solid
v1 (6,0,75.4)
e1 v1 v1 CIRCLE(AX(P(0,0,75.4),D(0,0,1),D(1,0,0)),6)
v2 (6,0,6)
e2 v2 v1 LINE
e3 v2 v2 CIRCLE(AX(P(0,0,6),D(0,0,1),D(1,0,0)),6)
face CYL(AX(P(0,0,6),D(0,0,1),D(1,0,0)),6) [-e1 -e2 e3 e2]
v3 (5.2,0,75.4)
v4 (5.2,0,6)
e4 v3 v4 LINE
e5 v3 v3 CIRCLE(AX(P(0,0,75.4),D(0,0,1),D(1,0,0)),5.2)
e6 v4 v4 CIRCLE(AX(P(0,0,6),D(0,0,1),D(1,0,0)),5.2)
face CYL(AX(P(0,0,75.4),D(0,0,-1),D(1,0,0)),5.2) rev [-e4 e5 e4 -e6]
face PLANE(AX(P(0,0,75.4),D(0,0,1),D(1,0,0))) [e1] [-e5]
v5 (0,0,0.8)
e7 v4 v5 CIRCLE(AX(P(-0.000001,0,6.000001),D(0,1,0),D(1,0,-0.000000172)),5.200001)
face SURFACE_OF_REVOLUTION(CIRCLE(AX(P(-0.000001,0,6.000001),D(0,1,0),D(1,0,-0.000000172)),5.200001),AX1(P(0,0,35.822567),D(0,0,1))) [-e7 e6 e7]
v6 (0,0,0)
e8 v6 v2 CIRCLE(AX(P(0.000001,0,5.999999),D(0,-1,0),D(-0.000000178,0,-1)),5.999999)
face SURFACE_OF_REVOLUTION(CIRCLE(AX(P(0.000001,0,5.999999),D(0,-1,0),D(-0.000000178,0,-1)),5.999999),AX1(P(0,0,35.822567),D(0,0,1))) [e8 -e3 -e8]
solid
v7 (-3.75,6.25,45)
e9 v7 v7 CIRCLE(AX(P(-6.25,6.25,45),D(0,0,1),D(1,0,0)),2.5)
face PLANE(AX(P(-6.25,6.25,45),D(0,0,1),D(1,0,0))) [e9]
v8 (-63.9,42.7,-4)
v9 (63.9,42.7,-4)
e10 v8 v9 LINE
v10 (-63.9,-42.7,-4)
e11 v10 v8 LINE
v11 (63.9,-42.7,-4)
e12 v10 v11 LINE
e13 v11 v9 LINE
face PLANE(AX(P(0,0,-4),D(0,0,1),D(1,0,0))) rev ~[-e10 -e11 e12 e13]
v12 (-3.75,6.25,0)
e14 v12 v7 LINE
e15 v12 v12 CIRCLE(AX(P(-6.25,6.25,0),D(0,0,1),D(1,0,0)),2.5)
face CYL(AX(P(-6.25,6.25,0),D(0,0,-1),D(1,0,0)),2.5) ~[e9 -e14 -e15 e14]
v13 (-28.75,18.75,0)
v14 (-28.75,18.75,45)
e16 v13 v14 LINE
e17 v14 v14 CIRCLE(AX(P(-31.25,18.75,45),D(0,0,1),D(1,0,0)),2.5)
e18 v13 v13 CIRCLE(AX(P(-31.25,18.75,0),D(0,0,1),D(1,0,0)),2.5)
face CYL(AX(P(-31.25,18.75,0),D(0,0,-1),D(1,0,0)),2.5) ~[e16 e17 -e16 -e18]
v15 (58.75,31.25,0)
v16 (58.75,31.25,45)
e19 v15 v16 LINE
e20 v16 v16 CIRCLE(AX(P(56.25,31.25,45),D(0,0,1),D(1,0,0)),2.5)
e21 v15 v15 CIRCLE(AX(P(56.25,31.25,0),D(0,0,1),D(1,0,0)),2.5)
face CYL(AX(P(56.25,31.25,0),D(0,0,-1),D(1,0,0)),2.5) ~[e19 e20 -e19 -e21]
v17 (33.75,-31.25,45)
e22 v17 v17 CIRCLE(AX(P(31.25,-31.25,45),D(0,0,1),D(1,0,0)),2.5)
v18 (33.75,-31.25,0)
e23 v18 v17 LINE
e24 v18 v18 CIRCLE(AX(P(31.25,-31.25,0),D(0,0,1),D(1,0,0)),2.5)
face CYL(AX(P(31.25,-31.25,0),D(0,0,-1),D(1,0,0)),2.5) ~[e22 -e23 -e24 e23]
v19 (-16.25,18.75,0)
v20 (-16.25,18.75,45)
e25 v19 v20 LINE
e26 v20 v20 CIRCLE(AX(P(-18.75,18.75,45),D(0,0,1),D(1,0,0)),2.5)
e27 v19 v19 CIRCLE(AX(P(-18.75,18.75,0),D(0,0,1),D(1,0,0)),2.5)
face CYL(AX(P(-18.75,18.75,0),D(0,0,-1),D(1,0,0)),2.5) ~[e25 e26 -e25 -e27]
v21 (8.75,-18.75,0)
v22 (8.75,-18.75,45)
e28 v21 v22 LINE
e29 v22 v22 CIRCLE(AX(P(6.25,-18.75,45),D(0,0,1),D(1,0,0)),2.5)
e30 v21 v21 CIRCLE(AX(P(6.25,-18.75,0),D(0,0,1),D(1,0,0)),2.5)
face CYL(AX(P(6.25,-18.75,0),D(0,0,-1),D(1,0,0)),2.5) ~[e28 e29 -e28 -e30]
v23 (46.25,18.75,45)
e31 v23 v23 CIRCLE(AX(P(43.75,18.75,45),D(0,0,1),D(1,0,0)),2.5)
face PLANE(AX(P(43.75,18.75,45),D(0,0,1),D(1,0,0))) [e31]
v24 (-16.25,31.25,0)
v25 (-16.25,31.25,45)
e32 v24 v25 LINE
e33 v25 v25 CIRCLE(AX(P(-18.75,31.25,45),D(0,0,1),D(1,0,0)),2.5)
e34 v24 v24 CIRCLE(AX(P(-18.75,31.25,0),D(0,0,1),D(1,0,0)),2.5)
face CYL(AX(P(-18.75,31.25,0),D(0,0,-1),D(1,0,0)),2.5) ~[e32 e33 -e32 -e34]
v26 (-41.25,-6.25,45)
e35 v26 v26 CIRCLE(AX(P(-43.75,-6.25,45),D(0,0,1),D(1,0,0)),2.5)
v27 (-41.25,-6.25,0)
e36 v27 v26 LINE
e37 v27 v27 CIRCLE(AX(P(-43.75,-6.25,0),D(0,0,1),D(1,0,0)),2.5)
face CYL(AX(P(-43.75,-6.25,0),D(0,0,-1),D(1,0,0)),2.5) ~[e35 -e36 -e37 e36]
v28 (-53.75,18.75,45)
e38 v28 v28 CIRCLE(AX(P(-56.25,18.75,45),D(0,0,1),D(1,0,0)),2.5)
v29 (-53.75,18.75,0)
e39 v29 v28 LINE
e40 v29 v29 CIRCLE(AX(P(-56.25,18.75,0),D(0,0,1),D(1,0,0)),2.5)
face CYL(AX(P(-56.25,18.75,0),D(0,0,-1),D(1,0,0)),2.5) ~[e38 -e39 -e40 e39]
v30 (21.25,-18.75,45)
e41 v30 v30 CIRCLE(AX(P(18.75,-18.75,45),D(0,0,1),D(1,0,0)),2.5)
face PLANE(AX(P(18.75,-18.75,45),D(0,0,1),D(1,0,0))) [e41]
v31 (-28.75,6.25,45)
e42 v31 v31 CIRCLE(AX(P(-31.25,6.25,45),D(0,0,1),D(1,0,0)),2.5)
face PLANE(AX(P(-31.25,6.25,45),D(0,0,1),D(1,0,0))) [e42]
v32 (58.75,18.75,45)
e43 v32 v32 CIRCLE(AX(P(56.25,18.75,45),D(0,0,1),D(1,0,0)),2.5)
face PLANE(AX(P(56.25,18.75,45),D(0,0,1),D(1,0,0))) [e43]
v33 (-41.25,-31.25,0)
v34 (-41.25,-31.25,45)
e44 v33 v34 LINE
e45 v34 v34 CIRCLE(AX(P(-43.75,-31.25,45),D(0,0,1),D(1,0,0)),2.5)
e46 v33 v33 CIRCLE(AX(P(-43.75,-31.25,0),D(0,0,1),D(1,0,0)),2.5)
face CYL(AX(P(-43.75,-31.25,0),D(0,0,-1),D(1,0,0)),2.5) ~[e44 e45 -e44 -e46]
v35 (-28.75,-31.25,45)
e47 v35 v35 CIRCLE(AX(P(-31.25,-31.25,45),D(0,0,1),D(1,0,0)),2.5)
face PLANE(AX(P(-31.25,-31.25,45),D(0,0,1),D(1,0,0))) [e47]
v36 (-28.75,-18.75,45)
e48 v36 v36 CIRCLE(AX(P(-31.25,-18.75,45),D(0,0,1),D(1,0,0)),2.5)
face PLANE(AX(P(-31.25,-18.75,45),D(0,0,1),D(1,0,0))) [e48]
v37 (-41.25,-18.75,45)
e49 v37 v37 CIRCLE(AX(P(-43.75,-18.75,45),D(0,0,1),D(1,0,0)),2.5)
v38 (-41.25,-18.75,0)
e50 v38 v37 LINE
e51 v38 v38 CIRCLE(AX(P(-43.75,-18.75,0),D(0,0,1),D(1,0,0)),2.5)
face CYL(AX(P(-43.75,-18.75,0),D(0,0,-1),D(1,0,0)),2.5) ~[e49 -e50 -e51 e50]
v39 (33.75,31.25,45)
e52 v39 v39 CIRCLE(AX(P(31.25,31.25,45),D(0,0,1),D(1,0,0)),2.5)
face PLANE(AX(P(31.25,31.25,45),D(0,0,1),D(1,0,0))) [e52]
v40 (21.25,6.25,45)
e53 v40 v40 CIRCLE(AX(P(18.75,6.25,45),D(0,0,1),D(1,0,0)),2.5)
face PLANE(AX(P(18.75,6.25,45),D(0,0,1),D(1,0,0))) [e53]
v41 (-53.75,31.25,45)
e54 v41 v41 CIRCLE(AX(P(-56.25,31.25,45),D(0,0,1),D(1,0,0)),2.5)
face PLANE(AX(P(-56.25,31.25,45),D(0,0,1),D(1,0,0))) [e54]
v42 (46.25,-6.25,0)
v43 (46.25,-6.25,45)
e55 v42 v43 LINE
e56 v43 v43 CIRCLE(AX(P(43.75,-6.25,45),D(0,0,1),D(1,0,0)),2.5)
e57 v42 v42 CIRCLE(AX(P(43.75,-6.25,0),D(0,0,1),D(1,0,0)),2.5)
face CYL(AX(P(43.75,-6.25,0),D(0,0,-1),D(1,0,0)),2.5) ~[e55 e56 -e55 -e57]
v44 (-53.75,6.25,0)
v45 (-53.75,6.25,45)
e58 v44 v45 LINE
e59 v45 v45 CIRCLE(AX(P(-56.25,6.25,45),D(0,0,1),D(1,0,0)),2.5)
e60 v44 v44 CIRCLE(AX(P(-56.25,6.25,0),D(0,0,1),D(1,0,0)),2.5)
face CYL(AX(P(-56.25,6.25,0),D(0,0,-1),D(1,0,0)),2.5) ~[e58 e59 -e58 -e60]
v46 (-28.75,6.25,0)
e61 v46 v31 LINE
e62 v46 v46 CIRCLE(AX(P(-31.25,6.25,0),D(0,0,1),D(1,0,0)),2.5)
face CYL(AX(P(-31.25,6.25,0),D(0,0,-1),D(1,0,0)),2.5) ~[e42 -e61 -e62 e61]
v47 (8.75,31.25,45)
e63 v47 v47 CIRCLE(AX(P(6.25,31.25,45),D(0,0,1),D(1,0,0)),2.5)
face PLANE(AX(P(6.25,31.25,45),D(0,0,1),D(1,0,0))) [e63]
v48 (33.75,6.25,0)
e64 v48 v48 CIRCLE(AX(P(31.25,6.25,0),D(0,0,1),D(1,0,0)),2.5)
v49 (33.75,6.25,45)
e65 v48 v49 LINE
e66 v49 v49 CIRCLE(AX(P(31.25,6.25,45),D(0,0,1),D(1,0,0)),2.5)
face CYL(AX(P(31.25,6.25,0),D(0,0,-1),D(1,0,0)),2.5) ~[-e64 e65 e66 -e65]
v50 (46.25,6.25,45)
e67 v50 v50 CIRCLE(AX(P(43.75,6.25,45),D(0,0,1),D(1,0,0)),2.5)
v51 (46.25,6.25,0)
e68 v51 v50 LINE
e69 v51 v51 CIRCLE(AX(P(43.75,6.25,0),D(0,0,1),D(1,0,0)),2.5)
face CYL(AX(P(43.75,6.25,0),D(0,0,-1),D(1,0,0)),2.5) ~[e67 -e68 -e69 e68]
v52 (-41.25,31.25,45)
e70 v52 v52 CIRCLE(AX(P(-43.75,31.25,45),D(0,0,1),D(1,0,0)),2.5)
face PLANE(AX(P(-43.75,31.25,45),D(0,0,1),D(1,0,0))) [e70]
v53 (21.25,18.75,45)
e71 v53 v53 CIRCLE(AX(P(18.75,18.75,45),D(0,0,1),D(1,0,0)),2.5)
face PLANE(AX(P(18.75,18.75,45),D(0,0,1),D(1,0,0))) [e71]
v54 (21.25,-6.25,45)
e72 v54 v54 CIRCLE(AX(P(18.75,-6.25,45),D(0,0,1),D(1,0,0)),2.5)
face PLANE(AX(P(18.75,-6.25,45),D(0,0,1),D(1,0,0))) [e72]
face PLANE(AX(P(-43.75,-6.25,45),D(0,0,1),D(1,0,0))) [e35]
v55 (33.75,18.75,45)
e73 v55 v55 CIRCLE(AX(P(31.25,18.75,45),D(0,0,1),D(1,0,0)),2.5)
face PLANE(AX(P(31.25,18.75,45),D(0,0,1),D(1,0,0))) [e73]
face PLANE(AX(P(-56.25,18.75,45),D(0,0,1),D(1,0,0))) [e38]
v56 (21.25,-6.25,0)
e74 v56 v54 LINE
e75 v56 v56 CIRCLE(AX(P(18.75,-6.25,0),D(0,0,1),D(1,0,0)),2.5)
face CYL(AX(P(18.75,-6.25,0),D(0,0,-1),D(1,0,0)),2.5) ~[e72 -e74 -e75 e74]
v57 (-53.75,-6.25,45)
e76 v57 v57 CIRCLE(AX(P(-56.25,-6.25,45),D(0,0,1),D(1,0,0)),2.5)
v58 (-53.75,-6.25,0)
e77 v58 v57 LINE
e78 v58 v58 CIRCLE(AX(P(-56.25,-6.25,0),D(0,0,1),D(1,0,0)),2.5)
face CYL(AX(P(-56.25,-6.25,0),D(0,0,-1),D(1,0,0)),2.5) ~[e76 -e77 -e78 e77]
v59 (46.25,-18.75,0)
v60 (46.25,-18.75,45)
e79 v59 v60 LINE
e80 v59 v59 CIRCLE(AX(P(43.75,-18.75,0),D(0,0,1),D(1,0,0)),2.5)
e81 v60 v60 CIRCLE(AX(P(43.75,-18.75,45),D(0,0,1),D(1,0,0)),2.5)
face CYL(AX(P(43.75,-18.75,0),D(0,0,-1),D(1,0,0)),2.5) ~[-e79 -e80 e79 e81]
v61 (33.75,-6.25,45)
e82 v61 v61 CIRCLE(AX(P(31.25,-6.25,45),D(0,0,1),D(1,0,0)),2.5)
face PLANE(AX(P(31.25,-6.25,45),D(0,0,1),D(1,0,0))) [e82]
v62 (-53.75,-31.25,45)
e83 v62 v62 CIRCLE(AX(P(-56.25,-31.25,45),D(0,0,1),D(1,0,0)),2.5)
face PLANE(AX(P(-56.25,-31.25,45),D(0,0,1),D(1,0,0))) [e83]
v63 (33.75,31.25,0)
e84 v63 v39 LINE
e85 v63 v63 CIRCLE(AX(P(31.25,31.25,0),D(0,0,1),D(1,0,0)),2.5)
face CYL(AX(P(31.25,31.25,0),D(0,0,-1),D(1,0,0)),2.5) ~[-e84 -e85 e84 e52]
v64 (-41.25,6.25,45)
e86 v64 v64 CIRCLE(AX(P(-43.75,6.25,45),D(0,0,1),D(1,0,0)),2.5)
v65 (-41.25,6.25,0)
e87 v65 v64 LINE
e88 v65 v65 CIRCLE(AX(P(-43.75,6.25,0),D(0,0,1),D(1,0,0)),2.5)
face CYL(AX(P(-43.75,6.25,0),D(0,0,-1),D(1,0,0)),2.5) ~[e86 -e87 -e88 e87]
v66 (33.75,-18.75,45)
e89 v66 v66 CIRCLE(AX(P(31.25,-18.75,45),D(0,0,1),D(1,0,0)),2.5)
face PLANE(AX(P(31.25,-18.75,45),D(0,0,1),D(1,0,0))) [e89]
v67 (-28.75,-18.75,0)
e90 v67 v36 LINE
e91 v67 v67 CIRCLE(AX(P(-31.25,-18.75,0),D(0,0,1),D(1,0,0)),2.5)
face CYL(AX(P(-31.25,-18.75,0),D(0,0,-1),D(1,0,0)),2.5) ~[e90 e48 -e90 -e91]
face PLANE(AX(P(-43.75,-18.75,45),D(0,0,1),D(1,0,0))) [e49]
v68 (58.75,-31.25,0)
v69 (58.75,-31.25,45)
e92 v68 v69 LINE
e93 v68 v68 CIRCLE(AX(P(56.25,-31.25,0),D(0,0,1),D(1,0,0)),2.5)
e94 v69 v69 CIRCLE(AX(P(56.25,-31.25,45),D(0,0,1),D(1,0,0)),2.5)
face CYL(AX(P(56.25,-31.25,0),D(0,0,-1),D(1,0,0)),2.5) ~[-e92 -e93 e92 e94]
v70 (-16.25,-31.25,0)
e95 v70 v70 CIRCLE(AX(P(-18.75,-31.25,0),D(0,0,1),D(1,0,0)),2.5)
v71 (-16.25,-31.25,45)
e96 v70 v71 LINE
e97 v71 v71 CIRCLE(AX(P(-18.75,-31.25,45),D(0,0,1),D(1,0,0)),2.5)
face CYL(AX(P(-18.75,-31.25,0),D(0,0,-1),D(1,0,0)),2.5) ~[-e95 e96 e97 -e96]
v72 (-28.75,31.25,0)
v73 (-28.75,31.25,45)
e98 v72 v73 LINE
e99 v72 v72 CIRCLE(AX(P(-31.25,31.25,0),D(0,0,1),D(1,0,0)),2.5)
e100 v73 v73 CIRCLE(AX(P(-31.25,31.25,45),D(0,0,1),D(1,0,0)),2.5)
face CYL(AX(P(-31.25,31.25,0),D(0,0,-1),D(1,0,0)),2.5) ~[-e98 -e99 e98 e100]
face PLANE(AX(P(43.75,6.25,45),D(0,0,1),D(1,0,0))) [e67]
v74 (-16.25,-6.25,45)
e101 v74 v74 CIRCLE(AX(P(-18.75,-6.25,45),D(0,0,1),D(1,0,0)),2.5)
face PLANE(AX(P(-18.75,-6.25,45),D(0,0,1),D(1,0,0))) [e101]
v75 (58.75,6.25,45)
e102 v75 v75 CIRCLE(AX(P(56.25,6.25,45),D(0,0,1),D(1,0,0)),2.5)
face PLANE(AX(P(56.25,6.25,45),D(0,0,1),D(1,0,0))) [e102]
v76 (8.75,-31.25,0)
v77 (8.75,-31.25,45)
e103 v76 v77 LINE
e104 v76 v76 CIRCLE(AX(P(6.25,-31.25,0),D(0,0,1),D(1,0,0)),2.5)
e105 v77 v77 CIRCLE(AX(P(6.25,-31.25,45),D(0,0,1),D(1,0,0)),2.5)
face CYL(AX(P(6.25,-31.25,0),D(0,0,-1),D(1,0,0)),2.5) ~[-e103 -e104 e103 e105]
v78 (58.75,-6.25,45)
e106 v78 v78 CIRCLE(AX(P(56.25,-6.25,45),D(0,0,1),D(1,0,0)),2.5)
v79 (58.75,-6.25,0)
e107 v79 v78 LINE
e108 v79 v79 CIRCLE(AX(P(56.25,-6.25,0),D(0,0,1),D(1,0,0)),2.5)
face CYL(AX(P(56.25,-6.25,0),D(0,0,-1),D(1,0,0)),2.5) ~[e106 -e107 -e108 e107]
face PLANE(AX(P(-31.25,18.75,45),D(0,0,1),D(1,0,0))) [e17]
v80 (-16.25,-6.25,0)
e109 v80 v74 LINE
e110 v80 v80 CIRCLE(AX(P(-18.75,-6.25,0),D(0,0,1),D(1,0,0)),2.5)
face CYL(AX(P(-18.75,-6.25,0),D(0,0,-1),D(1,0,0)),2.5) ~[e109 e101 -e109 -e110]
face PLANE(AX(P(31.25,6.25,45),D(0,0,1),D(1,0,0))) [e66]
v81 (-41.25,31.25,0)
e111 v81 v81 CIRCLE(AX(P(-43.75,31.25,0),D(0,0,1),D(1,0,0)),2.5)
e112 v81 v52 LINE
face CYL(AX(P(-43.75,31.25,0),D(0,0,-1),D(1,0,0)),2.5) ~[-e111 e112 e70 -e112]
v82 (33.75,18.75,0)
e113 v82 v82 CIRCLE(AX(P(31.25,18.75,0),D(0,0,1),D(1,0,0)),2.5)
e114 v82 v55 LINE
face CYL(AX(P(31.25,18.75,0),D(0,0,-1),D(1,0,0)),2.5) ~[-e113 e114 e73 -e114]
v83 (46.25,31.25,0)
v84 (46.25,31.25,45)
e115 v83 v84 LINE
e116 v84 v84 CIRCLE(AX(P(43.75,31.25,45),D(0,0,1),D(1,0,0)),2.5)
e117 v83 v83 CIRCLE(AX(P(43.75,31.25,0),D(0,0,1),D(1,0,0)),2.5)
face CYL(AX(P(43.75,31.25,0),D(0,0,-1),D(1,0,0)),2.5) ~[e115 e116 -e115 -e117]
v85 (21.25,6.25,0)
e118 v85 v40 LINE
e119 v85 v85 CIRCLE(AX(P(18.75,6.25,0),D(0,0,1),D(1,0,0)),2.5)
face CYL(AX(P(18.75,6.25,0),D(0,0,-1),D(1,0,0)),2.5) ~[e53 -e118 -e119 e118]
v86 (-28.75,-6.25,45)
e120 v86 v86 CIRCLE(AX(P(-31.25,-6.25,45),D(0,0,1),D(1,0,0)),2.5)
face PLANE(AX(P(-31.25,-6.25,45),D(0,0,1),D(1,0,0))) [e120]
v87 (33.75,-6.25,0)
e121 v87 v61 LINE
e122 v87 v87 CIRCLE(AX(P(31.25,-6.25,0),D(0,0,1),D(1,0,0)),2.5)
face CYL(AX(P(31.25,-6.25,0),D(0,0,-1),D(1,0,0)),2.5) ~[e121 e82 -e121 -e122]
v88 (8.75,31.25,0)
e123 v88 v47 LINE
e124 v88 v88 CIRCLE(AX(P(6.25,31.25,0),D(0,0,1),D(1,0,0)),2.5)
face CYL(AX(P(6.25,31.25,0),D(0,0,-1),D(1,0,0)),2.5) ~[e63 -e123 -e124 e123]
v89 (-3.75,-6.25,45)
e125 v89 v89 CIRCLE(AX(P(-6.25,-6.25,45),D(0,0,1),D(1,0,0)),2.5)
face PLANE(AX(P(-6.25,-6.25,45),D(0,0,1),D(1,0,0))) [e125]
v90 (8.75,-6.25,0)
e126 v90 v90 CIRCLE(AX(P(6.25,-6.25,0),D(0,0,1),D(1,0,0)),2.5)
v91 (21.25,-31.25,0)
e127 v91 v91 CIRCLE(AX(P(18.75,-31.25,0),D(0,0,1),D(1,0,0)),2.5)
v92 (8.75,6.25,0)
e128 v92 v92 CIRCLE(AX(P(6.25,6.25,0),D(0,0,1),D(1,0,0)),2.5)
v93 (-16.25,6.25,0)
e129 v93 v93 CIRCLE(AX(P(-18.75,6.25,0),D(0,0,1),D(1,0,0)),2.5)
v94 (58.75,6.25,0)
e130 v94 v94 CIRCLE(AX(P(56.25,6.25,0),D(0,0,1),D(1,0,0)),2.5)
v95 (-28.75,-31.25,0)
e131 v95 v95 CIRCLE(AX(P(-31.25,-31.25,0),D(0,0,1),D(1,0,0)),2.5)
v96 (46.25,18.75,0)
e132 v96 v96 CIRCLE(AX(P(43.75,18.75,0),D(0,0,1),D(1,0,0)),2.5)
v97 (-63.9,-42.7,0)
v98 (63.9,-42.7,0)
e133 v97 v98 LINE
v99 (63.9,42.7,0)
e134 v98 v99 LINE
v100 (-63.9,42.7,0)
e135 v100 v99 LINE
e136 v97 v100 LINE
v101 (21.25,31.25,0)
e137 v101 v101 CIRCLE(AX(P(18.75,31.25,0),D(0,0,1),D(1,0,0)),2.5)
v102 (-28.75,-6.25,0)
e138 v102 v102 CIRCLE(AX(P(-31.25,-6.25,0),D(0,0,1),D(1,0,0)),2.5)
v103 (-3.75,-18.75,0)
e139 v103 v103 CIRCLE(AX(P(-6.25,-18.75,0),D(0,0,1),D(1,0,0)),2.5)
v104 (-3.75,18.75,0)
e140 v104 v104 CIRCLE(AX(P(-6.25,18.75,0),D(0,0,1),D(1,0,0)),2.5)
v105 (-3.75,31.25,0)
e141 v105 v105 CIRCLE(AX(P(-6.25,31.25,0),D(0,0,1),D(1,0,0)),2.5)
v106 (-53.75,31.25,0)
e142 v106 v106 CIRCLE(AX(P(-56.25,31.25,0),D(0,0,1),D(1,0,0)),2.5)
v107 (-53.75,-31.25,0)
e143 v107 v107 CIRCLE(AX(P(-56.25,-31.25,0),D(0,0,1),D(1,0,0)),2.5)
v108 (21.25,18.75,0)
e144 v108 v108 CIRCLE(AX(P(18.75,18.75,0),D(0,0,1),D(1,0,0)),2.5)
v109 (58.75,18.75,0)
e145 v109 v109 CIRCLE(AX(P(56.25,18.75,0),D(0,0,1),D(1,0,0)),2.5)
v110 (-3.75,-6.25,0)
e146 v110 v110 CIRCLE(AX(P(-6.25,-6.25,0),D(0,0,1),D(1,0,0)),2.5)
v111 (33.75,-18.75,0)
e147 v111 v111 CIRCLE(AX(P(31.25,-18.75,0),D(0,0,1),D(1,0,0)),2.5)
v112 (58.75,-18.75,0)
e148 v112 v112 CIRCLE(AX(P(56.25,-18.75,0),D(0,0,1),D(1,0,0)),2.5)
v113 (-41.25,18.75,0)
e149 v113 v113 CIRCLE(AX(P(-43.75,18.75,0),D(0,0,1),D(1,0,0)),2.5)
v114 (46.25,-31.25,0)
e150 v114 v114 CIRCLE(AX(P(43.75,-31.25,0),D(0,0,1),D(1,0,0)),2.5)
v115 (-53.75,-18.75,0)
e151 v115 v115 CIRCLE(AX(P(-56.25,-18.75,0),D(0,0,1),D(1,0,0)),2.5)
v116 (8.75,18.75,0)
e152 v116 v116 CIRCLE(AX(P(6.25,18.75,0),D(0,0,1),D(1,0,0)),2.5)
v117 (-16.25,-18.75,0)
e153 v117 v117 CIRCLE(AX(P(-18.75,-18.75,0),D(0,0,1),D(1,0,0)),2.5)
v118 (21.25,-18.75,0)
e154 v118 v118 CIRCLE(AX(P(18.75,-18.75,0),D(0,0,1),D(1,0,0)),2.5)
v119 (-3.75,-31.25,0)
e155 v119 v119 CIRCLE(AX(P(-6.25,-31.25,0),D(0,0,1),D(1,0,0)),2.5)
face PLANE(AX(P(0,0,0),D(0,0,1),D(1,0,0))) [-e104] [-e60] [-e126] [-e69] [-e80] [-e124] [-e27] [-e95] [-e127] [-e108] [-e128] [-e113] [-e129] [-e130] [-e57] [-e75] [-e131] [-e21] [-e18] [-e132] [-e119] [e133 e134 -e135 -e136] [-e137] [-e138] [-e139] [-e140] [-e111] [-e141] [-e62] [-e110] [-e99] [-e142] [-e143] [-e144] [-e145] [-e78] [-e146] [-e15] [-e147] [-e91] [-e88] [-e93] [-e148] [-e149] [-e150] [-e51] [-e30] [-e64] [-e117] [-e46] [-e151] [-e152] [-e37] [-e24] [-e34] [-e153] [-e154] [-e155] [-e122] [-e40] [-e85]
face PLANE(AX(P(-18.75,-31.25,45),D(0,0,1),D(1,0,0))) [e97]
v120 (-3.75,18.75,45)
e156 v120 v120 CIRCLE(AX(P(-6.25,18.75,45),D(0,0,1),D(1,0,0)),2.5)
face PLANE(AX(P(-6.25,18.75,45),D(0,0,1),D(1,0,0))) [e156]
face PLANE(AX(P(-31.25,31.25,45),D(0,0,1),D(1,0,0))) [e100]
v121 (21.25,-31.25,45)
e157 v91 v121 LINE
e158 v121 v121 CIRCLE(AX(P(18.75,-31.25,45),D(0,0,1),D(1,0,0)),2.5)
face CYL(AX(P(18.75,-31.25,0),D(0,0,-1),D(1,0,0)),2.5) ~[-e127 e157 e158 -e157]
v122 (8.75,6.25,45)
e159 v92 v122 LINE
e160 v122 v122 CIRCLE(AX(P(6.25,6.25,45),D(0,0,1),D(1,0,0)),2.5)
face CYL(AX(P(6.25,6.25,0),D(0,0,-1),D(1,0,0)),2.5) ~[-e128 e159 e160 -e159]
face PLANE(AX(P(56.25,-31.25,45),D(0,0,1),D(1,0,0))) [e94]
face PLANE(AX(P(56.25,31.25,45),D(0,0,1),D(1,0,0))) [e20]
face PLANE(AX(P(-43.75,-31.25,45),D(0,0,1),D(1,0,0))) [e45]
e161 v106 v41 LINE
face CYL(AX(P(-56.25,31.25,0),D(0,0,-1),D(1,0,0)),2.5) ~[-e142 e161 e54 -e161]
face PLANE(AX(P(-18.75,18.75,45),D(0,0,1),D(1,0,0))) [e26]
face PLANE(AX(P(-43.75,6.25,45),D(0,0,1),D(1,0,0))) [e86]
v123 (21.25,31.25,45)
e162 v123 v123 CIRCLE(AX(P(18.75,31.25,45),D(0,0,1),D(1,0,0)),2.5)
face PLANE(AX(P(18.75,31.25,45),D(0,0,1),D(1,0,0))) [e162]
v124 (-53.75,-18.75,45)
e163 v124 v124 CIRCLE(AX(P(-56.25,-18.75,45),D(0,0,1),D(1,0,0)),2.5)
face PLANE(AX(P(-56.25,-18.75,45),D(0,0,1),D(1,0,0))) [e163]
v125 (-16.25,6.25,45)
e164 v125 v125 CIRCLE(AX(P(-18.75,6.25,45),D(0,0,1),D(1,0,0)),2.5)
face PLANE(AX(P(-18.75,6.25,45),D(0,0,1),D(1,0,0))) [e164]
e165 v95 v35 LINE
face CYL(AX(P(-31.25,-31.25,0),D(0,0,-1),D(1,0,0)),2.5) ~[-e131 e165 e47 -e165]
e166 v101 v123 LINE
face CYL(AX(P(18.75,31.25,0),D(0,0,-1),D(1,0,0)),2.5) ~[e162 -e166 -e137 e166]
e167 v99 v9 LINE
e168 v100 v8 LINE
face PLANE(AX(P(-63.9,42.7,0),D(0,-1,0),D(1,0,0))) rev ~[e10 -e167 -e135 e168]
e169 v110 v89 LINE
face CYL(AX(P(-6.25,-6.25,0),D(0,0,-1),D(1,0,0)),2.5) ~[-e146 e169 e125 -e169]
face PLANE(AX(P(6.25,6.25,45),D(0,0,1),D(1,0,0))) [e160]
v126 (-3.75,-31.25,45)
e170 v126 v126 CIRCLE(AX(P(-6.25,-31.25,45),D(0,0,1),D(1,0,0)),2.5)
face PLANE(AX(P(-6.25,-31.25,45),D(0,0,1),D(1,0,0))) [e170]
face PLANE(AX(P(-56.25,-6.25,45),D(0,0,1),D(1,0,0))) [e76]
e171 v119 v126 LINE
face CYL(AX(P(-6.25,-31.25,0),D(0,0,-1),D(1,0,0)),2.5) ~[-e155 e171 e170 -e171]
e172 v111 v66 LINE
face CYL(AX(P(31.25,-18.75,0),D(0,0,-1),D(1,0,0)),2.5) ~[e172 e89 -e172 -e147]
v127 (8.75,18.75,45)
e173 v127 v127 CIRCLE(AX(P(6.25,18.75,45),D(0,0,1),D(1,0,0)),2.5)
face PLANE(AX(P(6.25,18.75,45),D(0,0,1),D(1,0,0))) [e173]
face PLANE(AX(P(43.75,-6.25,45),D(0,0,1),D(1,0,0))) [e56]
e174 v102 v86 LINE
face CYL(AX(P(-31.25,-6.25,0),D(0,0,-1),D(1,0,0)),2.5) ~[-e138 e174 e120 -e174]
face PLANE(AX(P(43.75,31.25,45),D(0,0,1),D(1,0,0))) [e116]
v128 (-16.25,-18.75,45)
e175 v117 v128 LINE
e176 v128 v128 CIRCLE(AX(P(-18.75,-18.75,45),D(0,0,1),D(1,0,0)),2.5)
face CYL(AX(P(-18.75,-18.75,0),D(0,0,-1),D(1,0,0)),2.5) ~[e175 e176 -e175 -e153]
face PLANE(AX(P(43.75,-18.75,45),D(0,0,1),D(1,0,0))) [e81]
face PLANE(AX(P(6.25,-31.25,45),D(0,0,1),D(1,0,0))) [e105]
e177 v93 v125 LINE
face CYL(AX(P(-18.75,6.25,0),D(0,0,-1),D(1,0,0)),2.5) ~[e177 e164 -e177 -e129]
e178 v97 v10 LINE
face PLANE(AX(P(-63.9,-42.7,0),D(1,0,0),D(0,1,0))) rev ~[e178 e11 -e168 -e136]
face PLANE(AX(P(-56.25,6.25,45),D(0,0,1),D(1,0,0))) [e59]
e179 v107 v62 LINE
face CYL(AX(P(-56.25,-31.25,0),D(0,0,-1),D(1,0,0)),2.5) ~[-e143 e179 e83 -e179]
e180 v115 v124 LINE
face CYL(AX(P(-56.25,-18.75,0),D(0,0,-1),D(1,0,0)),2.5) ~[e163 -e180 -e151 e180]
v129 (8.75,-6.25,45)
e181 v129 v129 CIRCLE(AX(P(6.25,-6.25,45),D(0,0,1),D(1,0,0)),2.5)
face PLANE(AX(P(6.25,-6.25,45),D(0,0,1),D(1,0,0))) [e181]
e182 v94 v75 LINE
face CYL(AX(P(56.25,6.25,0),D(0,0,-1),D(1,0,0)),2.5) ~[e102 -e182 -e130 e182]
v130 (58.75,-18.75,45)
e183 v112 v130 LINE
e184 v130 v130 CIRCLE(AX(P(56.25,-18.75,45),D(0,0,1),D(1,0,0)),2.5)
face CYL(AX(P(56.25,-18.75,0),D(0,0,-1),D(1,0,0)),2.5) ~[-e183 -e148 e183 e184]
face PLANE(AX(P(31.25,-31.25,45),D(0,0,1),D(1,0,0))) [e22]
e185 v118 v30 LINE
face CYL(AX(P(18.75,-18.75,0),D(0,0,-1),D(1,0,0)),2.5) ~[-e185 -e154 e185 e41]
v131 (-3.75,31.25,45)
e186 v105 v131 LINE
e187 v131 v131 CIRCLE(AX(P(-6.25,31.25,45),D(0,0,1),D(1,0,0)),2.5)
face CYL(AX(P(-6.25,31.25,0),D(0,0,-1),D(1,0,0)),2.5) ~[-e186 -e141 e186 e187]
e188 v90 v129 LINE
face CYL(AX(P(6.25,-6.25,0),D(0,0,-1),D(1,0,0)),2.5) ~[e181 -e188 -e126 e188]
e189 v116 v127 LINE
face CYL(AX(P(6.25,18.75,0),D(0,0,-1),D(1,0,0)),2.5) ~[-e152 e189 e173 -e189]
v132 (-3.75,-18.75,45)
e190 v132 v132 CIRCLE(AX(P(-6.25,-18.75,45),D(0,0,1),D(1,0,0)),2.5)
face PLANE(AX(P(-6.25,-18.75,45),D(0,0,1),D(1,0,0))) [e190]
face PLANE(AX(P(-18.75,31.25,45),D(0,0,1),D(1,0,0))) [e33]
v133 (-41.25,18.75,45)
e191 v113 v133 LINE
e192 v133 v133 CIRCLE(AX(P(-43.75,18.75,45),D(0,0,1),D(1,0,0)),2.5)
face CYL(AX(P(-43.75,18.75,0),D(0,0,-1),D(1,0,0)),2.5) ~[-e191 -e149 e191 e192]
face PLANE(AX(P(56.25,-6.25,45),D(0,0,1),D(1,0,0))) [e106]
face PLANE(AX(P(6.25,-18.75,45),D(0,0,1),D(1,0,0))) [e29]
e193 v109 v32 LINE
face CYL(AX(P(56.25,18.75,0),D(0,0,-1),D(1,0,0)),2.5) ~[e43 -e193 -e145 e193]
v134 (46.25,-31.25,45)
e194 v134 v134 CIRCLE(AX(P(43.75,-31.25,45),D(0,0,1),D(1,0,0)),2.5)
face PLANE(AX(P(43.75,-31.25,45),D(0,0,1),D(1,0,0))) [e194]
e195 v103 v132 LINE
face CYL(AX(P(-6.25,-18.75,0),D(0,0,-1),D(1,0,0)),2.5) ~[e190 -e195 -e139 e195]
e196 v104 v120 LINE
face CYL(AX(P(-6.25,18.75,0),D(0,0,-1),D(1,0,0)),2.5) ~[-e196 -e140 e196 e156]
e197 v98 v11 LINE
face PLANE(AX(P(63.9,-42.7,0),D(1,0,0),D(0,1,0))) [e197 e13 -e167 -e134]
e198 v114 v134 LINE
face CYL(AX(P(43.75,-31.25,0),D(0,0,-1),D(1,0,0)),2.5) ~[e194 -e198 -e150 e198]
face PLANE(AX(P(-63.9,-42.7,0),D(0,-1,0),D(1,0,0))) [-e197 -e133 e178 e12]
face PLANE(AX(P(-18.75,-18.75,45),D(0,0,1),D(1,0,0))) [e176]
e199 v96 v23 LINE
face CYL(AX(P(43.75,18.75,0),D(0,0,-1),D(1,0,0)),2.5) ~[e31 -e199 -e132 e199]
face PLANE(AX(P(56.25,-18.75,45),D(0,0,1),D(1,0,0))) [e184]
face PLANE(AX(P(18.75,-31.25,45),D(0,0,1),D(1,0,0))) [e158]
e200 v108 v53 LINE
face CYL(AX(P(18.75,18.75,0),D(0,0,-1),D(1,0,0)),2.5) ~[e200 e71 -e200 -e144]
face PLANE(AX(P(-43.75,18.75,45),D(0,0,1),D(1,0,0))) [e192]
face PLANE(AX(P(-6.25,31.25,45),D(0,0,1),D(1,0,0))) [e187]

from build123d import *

# Parameters (mm, degrees)
F2_W     = 127.8
F2_H     = 85.4
F3_DEPTH = 4
F4_R     = 2.5
F5_DEPTH = 45


with BuildPart() as f1:
    # F0 (on Front) → F1 (revolve)
    with BuildSketch(Plane.XZ):
        with BuildLine():
            ThreePointArc((0, 0), (4.242641, 1.757359), (6, 6))
            Line((6, 6), (6, 75.4))
            Line((6, 75.4), (5.2, 75.4))
            Line((5.2, 75.4), (5.2, 6))
            ThreePointArc((5.2, 6), (3.676955, 2.323045), (0, 0.8))
            Line((0, 0.8), (0, 0))
        make_face()
    revolve(axis=Axis((0, 0, 35.822567), (0, 0, 1)))

    # F2 (on Top) → F3 (join)
    with BuildSketch(Plane.XY):
        Rectangle(F2_W, F2_H)
    extrude(amount=-F3_DEPTH)

    # F4 (on face) → F5 (join)
    with BuildSketch(Plane.XY):
        with Locations((-56.25, 31.25)):
            Circle(F4_R)
        with Locations((-56.25, 18.75)):
            Circle(F4_R)
        with Locations((-56.25, 6.25)):
            Circle(F4_R)
        with Locations((-56.25, -6.25)):
            Circle(F4_R)
        with Locations((-56.25, -18.75)):
            Circle(F4_R)
        with Locations((-56.25, -31.25)):
            Circle(F4_R)
        with Locations((-43.75, 31.25)):
            Circle(F4_R)
        with Locations((-43.75, 18.75)):
            Circle(F4_R)
        with Locations((-43.75, 6.25)):
            Circle(F4_R)
        with Locations((-43.75, -6.25)):
            Circle(F4_R)
        with Locations((-43.75, -18.75)):
            Circle(F4_R)
        with Locations((-43.75, -31.25)):
            Circle(F4_R)
        with Locations((-31.25, 31.25)):
            Circle(F4_R)
        with Locations((-31.25, 18.75)):
            Circle(F4_R)
        with Locations((-31.25, 6.25)):
            Circle(F4_R)
        with Locations((-31.25, -6.25)):
            Circle(F4_R)
        with Locations((-31.25, -18.75)):
            Circle(F4_R)
        with Locations((-31.25, -31.25)):
            Circle(F4_R)
        with Locations((-18.75, 31.25)):
            Circle(F4_R)
        with Locations((-18.75, 18.75)):
            Circle(F4_R)
        with Locations((-18.75, 6.25)):
            Circle(F4_R)
        with Locations((-18.75, -6.25)):
            Circle(F4_R)
        with Locations((-18.75, -18.75)):
            Circle(F4_R)
        with Locations((-18.75, -31.25)):
            Circle(F4_R)
        with Locations((-6.25, 31.25)):
            Circle(F4_R)
        with Locations((-6.25, 18.75)):
            Circle(F4_R)
        with Locations((-6.25, 6.25)):
            Circle(F4_R)
        with Locations((-6.25, -6.25)):
            Circle(F4_R)
        with Locations((-6.25, -18.75)):
            Circle(F4_R)
        with Locations((-6.25, -31.25)):
            Circle(F4_R)
        with Locations((6.25, 31.25)):
            Circle(F4_R)
        with Locations((6.25, 18.75)):
            Circle(F4_R)
        with Locations((6.25, 6.25)):
            Circle(F4_R)
        with Locations((6.25, -6.25)):
            Circle(F4_R)
        with Locations((6.25, -18.75)):
            Circle(F4_R)
        with Locations((6.25, -31.25)):
            Circle(F4_R)
        with Locations((18.75, 31.25)):
            Circle(F4_R)
        with Locations((18.75, 18.75)):
            Circle(F4_R)
        with Locations((18.75, 6.25)):
            Circle(F4_R)
        with Locations((18.75, -6.25)):
            Circle(F4_R)
        with Locations((18.75, -18.75)):
            Circle(F4_R)
        with Locations((18.75, -31.25)):
            Circle(F4_R)
        with Locations((31.25, 31.25)):
            Circle(F4_R)
        with Locations((31.25, 18.75)):
            Circle(F4_R)
        with Locations((31.25, 6.25)):
            Circle(F4_R)
        with Locations((31.25, -6.25)):
            Circle(F4_R)
        with Locations((31.25, -18.75)):
            Circle(F4_R)
        with Locations((31.25, -31.25)):
            Circle(F4_R)
        with Locations((43.75, 31.25)):
            Circle(F4_R)
        with Locations((43.75, 18.75)):
            Circle(F4_R)
        with Locations((43.75, 6.25)):
            Circle(F4_R)
        with Locations((43.75, -6.25)):
            Circle(F4_R)
        with Locations((43.75, -18.75)):
            Circle(F4_R)
        with Locations((43.75, -31.25)):
            Circle(F4_R)
        with Locations((56.25, 31.25)):
            Circle(F4_R)
        with Locations((56.25, 18.75)):
            Circle(F4_R)
        with Locations((56.25, 6.25)):
            Circle(F4_R)
        with Locations((56.25, -6.25)):
            Circle(F4_R)
        with Locations((56.25, -18.75)):
            Circle(F4_R)
        with Locations((56.25, -31.25)):
            Circle(F4_R)
    extrude(amount=F5_DEPTH)


solid = f1.part
